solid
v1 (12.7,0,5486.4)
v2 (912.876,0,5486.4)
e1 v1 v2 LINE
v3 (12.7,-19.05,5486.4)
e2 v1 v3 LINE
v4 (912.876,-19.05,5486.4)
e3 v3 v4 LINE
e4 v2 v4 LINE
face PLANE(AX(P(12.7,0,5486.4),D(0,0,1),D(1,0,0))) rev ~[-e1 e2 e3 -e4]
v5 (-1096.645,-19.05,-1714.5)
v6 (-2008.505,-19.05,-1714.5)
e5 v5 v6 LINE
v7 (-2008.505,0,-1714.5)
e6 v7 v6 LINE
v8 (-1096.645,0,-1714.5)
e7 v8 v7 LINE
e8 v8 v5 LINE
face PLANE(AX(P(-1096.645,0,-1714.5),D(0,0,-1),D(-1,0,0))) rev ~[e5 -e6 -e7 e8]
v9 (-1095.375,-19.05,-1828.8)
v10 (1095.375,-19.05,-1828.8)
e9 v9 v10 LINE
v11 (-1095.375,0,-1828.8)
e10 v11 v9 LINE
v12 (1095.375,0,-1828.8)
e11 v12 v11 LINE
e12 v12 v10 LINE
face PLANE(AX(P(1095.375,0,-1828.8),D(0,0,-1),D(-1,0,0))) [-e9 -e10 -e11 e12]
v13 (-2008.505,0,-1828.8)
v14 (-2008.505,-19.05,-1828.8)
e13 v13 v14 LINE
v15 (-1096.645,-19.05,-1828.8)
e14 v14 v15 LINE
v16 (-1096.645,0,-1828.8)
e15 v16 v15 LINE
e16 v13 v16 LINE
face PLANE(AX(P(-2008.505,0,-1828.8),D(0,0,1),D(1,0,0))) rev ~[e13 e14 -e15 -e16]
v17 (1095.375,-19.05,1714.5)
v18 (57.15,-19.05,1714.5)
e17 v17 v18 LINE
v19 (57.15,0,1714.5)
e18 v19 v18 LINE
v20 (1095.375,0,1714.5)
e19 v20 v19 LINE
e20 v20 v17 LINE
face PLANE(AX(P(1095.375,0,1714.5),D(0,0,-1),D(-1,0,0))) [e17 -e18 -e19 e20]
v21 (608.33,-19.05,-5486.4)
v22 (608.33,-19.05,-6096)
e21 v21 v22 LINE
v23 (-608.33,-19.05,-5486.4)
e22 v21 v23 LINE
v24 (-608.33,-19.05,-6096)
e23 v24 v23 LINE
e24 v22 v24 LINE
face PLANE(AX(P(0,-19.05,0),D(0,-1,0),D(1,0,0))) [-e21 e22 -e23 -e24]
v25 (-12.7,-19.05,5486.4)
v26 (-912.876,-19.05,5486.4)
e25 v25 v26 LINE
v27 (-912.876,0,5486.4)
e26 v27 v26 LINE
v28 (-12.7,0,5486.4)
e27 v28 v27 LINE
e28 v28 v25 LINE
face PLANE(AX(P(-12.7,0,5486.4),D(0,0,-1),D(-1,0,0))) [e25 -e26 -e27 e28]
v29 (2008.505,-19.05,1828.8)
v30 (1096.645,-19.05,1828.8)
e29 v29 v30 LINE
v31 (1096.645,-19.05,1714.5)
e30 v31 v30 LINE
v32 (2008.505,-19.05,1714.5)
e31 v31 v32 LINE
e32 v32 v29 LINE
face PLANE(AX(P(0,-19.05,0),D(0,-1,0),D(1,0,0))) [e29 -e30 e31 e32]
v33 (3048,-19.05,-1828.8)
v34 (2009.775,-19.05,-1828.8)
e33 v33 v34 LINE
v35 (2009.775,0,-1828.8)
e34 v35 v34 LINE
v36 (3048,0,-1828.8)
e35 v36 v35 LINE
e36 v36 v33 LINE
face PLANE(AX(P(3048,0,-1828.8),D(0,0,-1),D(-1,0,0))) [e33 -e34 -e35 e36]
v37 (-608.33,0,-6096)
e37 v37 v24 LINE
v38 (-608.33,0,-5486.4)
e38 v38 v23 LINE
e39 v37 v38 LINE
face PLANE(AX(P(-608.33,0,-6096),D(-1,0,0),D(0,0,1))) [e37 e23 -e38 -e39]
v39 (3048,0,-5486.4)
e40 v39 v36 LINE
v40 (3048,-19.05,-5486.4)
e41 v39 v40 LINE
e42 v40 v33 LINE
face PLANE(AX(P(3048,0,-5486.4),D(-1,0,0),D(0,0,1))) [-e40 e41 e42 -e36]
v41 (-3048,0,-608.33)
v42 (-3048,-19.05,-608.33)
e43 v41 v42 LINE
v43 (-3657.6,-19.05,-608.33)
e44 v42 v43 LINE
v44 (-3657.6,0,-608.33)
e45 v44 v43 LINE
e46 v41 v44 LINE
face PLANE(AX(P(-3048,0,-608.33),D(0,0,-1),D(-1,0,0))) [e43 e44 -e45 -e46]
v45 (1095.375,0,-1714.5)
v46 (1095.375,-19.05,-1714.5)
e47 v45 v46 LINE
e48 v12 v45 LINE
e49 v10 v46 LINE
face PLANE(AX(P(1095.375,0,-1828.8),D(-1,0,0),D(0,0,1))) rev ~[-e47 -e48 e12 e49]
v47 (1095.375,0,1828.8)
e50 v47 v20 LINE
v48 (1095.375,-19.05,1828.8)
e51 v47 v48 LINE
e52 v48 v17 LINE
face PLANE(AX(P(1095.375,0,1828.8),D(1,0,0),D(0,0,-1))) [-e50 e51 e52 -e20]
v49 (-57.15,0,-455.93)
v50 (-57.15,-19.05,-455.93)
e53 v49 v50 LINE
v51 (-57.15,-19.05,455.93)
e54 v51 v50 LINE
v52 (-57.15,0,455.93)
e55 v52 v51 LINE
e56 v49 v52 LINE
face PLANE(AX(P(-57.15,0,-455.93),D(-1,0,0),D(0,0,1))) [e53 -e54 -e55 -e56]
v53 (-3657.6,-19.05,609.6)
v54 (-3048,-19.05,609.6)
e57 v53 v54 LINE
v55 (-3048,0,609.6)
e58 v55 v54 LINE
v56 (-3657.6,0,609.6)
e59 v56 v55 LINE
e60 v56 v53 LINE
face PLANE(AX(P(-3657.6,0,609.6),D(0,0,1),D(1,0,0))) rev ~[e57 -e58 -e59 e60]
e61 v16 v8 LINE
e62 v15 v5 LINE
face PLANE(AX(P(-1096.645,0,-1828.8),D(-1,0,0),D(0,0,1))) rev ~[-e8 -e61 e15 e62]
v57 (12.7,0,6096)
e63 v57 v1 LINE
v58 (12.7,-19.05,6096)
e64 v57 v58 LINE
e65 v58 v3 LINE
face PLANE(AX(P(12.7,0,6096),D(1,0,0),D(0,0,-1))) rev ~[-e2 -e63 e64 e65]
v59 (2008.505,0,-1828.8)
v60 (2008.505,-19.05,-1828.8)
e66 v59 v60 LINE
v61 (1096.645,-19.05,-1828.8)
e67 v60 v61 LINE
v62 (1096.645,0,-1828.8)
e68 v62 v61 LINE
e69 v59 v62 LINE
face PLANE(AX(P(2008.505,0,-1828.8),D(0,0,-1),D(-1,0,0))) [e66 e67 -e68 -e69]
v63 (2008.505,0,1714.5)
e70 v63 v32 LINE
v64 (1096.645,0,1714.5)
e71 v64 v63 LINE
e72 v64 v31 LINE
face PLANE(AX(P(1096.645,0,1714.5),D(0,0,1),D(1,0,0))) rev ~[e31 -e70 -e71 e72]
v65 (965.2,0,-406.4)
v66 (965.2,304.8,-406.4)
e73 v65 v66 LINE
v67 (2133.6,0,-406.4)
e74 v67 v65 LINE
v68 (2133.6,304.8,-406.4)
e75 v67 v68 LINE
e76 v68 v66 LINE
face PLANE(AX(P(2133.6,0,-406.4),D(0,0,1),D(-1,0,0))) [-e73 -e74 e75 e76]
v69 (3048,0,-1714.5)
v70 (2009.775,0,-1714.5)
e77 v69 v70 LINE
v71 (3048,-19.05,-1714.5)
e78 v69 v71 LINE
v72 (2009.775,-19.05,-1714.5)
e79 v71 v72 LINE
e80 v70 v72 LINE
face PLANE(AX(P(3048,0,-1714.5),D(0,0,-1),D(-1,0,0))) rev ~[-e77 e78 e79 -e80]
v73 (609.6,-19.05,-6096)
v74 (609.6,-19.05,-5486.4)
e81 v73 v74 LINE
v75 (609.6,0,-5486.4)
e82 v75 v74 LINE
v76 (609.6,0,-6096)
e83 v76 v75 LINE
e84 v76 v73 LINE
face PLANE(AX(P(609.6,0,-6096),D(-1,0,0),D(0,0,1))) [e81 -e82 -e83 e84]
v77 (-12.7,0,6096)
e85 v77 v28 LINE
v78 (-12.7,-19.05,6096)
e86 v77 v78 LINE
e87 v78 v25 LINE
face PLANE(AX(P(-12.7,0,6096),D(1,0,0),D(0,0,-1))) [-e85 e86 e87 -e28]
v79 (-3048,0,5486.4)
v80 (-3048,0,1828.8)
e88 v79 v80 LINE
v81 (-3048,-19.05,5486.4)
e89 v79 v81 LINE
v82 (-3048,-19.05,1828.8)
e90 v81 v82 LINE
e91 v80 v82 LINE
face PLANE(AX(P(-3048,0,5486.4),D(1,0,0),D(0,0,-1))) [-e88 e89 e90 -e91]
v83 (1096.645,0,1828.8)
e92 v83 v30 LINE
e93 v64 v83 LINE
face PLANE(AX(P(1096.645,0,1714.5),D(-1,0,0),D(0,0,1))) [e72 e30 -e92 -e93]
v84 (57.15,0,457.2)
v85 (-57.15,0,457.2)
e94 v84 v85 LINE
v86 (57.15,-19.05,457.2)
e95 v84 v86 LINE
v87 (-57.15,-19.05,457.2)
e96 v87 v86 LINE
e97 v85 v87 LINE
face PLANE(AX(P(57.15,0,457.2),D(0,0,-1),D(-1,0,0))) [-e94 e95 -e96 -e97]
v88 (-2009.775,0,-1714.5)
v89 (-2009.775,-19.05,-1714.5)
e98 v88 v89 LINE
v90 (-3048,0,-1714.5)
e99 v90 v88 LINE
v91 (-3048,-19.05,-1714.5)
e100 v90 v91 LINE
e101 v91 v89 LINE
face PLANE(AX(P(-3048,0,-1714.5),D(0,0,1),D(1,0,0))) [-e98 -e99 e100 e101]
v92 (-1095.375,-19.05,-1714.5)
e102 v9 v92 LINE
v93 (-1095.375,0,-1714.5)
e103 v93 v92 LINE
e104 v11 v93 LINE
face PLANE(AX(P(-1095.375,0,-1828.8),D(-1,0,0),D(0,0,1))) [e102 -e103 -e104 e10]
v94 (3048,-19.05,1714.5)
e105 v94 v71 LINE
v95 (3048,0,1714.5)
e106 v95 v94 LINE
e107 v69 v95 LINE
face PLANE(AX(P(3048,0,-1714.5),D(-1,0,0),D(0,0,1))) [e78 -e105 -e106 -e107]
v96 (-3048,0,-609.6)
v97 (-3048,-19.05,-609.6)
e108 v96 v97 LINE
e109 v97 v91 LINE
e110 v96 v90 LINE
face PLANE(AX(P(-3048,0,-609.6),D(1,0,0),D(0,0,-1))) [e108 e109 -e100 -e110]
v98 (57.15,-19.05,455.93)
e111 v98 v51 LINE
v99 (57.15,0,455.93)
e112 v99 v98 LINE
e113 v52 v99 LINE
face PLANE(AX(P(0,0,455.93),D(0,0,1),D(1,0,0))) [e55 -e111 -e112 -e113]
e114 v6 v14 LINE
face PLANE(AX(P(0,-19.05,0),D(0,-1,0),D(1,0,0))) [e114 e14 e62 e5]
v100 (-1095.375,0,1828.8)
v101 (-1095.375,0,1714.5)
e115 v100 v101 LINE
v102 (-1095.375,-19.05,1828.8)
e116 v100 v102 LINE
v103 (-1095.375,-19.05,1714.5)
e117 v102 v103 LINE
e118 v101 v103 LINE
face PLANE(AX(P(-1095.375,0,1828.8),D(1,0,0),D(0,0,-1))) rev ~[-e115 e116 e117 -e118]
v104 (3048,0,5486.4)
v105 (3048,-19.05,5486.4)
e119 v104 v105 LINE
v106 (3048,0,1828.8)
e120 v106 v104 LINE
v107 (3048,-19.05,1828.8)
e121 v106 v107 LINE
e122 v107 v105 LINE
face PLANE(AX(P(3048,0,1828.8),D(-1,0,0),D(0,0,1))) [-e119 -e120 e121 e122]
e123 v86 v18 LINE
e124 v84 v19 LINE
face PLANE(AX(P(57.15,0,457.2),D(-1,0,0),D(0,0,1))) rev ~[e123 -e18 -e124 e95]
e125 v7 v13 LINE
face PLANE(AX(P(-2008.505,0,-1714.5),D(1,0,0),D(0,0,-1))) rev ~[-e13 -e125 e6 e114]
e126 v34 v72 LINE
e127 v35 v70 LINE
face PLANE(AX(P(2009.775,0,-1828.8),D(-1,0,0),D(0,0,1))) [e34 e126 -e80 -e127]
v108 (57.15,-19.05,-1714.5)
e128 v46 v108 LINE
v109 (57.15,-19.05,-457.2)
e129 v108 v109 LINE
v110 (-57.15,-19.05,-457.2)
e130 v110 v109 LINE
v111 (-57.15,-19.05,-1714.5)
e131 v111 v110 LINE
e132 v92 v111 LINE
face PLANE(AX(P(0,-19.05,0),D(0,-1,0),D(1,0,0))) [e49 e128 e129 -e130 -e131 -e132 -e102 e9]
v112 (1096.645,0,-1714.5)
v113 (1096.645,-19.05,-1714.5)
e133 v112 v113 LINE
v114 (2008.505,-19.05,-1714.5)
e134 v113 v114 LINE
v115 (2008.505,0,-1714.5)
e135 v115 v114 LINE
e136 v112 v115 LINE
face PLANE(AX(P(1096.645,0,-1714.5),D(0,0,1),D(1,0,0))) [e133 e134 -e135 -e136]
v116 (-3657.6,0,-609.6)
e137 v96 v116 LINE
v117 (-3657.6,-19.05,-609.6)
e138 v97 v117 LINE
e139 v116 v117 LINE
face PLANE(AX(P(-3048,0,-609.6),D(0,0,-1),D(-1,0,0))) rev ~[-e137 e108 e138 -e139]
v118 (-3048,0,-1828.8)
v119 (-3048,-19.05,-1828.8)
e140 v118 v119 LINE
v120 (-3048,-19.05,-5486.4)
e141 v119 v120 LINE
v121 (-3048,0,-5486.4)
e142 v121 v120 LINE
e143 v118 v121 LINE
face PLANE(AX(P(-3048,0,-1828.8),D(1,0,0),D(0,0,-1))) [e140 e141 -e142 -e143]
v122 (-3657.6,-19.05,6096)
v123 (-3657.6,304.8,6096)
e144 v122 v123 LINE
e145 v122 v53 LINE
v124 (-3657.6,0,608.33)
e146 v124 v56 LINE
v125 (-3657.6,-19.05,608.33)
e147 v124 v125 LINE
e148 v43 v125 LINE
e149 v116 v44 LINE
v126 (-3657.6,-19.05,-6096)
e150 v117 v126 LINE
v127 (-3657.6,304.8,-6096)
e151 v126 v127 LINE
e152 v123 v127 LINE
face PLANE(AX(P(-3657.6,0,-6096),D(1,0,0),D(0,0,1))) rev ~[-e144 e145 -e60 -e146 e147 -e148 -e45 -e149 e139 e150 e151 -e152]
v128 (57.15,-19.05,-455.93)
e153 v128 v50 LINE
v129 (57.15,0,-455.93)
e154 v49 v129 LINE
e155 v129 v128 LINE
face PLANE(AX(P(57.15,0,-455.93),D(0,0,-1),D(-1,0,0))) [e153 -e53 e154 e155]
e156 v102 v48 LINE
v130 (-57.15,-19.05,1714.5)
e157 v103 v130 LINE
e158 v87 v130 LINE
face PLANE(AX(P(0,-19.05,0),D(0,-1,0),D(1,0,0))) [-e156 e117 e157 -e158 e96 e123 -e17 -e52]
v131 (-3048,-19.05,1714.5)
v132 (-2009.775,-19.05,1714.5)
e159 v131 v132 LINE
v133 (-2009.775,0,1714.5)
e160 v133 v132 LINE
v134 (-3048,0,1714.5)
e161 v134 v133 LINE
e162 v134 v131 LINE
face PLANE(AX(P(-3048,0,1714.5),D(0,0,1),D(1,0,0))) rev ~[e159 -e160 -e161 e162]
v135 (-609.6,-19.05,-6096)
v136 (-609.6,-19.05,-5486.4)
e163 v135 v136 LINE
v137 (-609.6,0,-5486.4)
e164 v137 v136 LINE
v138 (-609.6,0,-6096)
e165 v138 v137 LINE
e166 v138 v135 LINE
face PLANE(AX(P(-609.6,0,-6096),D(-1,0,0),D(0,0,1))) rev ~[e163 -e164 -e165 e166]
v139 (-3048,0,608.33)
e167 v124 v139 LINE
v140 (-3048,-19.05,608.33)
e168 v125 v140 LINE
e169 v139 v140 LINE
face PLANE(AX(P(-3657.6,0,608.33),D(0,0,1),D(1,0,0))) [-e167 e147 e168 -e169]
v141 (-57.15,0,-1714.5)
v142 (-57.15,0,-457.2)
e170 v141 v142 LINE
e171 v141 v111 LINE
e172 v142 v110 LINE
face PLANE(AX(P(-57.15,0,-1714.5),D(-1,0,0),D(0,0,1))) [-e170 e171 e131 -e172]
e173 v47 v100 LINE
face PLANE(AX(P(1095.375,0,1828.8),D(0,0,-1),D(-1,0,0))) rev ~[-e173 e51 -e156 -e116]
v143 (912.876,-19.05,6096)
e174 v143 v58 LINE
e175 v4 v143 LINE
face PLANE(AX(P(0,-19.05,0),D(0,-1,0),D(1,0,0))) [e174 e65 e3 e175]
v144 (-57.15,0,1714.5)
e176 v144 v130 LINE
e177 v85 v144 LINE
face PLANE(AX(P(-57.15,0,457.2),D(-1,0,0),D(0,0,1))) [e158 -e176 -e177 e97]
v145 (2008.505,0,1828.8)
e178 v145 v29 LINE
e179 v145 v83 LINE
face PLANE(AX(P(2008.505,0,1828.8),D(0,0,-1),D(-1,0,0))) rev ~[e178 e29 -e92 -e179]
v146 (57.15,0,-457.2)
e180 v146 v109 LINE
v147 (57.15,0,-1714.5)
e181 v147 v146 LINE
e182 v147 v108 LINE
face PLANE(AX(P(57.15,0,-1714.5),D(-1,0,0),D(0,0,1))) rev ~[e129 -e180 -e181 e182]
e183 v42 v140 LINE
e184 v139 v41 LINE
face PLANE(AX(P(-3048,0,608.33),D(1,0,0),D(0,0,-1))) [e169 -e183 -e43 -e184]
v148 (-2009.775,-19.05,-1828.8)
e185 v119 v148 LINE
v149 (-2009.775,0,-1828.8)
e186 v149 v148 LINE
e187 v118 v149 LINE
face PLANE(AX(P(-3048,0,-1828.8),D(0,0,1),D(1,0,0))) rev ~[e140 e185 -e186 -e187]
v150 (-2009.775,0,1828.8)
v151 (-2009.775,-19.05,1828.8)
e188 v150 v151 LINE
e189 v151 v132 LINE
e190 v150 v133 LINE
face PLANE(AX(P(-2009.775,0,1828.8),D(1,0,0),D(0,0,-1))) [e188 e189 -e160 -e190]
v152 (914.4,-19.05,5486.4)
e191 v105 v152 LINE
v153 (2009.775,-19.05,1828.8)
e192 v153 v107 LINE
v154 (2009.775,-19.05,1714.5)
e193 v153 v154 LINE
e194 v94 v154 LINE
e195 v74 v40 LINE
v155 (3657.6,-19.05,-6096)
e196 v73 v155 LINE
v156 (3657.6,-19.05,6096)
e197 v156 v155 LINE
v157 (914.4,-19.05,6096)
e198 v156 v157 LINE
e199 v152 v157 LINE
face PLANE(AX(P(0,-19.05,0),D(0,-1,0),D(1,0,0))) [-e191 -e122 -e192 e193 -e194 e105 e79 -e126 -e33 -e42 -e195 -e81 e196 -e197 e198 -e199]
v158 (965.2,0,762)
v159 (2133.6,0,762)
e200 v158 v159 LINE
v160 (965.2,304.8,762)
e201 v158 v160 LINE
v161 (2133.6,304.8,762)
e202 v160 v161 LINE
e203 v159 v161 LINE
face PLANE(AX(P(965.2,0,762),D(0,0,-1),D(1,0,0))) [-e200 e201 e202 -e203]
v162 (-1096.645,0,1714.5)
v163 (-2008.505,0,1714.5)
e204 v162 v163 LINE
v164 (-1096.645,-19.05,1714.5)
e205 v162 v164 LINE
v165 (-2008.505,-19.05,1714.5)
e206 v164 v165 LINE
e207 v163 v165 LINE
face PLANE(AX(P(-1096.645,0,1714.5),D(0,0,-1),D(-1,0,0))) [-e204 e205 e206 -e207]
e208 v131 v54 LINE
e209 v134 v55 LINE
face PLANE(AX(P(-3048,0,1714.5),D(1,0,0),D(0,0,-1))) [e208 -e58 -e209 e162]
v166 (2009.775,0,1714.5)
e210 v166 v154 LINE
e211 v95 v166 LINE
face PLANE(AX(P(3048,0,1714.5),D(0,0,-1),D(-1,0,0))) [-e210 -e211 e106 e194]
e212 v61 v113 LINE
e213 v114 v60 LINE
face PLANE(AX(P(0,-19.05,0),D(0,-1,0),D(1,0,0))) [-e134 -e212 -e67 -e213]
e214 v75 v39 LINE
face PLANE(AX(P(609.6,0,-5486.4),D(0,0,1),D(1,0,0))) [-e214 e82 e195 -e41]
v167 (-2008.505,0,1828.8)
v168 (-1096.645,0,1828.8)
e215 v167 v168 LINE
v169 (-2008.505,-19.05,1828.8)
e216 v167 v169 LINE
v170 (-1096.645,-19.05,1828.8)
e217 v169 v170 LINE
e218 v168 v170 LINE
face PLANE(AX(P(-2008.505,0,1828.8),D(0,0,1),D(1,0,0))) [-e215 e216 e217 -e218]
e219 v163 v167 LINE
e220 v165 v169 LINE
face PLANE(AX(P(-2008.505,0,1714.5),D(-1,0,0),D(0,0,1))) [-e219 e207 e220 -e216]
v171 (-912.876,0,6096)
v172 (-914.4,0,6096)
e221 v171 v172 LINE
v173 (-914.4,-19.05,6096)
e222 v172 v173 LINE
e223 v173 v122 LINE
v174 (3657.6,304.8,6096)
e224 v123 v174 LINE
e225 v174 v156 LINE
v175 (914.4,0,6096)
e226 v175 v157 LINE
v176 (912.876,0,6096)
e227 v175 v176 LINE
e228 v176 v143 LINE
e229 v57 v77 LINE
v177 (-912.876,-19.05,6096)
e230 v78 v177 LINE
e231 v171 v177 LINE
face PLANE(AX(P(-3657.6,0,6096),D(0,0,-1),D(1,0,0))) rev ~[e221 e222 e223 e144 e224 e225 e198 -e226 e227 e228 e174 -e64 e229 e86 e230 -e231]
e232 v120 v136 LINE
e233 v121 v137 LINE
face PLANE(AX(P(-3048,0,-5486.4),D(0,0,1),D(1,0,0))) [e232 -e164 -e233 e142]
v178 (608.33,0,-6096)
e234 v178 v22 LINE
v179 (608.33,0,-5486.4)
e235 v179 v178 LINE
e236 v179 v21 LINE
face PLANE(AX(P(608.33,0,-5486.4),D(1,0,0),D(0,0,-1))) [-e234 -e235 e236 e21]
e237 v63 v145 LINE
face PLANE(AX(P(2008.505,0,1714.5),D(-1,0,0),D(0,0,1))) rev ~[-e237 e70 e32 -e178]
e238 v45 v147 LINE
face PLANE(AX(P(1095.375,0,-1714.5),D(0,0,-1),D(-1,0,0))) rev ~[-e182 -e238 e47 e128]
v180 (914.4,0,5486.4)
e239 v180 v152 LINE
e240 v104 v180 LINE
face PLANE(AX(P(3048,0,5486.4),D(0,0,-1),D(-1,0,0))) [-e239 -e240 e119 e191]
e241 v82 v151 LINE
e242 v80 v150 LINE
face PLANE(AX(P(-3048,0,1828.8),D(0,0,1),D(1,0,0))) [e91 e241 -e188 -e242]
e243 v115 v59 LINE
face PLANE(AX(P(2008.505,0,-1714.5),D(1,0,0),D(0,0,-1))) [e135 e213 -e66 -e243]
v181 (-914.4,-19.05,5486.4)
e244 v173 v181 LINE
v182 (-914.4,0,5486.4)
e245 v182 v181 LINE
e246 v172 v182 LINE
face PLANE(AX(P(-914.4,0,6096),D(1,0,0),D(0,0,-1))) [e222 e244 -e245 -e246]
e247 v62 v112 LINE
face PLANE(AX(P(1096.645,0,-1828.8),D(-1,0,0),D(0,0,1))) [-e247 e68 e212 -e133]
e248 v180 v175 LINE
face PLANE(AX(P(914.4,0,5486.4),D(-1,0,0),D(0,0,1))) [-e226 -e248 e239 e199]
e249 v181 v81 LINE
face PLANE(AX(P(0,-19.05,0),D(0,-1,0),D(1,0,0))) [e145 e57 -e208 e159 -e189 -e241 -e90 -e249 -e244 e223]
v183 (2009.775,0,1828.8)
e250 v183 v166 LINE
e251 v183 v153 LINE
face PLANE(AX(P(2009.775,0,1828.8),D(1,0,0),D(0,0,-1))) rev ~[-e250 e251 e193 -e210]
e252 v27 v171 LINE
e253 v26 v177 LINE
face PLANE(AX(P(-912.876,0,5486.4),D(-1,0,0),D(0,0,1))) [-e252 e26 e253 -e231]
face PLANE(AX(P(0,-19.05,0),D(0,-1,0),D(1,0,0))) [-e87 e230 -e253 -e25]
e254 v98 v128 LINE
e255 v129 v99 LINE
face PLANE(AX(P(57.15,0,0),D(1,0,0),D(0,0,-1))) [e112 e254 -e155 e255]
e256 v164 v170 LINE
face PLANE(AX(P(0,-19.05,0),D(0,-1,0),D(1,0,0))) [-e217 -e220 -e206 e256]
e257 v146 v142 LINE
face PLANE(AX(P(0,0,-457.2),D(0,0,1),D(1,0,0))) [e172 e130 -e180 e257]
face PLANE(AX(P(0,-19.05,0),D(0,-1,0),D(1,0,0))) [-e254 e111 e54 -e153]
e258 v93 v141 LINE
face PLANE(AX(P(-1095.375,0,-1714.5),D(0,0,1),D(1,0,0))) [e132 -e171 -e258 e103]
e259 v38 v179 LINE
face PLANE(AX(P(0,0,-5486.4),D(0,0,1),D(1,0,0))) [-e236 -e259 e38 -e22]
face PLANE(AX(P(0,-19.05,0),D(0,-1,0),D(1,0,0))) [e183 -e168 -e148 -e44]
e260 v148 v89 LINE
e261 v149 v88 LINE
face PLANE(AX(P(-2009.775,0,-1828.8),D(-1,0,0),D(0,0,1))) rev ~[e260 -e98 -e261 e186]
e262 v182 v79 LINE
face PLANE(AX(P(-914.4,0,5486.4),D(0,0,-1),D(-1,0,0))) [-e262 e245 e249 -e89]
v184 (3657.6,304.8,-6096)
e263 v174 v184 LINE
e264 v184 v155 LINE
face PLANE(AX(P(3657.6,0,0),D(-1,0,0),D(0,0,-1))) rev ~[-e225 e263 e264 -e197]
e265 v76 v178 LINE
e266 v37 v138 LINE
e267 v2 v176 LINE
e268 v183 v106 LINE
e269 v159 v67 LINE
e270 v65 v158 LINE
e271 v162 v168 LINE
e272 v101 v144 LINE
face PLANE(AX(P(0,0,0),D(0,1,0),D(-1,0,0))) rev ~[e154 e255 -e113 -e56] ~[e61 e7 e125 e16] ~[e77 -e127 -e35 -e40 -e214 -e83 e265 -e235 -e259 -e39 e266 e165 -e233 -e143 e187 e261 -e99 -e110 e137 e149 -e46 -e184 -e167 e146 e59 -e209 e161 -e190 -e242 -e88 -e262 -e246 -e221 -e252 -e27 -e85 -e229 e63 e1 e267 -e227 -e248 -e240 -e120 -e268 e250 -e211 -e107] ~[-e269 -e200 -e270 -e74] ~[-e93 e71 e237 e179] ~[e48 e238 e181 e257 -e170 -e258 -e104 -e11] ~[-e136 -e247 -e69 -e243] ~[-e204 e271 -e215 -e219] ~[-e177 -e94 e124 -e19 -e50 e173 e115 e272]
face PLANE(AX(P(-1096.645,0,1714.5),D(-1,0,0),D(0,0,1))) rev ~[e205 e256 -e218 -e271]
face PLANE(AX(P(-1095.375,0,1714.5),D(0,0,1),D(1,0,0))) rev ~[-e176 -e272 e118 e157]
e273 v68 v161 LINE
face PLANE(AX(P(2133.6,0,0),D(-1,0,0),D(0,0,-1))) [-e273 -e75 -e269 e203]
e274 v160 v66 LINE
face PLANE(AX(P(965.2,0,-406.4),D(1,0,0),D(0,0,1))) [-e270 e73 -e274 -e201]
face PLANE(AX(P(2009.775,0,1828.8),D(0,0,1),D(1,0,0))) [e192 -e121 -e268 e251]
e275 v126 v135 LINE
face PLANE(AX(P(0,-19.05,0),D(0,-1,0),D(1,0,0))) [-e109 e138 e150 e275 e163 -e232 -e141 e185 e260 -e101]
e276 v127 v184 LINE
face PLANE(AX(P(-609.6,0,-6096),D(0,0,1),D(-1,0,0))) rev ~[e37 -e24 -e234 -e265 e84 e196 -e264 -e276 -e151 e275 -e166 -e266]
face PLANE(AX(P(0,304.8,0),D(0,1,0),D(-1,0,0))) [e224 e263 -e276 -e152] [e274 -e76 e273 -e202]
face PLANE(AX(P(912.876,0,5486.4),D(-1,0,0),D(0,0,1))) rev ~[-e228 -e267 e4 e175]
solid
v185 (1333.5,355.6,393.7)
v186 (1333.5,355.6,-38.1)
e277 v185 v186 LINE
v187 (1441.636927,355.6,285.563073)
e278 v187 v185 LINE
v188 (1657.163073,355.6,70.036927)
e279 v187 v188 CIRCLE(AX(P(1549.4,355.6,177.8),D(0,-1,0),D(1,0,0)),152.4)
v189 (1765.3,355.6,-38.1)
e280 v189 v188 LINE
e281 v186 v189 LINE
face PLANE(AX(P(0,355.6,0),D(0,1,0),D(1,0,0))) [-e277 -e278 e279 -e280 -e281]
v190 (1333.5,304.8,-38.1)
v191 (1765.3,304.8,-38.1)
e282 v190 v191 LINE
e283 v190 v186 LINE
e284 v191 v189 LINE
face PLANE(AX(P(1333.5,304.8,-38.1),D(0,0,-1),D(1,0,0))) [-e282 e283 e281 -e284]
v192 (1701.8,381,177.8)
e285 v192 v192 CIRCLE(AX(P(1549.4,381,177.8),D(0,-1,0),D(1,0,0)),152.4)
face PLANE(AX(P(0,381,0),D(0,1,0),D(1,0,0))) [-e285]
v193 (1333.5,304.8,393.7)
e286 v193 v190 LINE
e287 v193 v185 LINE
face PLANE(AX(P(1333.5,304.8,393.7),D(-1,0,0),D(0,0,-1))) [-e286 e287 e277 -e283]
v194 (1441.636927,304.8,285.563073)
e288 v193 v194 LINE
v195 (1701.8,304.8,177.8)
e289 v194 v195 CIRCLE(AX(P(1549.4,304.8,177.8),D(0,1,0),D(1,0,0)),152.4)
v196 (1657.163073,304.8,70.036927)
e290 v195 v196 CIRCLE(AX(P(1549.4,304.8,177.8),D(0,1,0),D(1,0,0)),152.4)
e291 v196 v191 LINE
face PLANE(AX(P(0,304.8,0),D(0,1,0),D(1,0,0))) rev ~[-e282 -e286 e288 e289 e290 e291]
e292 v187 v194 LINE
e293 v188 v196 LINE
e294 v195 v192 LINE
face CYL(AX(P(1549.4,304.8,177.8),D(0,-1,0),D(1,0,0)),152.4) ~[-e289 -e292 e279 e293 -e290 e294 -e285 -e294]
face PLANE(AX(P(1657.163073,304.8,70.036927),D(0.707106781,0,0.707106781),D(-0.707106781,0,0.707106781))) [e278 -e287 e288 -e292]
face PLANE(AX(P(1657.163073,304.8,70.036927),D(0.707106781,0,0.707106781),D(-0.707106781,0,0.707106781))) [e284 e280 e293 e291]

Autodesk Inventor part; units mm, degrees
ref_plane "YZ Plane" through (0, 0, 0) normal (1, 0, 0) x (0, 1, 0)
ref_plane "XZ Plane" through (0, 0, 0) normal (0, 1, 0) x (-1, 0, 0)
ref_plane "XY Plane" through (0, 0, 0) normal (0, 0, 1) x (1, 0, 0)
sketch "Sketch1" plane through (0, 0, 0) normal (0, 1, 0) x (-1, 0, 0)
  line L0 (3657.6, -6096) -> (3657.6, 6096)
  line L1 (-3657.6, 6096) -> (-3657.6, -6096)
  line L2 (-3657.6, -6096) -> (-609.6, -6096)
  line L3 (609.6, -6096) -> (3657.6, -6096)
  line L4 (3657.6, 6096) -> (914.4, 6096)
  line L5 (-914.4, 6096) -> (-3657.6, 6096)
  line L6 (0, -8534.4) -> (0, 8534.4) projected
  line L7 (-5120.64, 0) -> (5120.64, 0) projected
  line L8 (-3657.6, -6096) -> (3657.6, -6096)
  line L9 (3657.6, -6096) -> (3657.6, 6096)
  line L10 (3657.6, 6096) -> (-3657.6, 6096)
  line L11 (-3657.6, 6096) -> (-3657.6, -6096)
  line L12 (-2133.6, -406.4) -> (-965.2, -406.4)
  line L13 (-965.2, -406.4) -> (-965.2, 762)
  line L14 (-965.2, 762) -> (-2133.6, 762)
  line L15 (-2133.6, 762) -> (-2133.6, -406.4)
  dimension "d0" = 7315.2
  dimension "d12" = 12192
  dimension "d16" = 1168.4
  dimension "d17" = 1168.4
  dimension "d18" = 1524
  dimension "d19" = 5689.6
extrude "Extrusion1" add sketch "Sketch1" along normal blind 304.8 contours L3 L8 L6 L7 L0 | L7 L6 L10 L4 L0 | L7 L13 L14 L15 L1 L5 L10 L6 | L6 L8 L2 L1 L7 L15 L12 L13
sketch "Sketch2" plane through (0, 0, 0) normal (0, -1, 0) x (1, 0, 0)
  line L0 (3657.6, -6096) -> (3657.6, 6096)
  line L1 (-3657.6, 6096) -> (-3657.6, -6096)
  line L2 (-3048, 1714.5) -> (-3048, -1714.5)
  line L3 (3048, -5486.4) -> (3048, -1828.8)
  line L4 (3048, -1714.5) -> (3048, 1714.5)
  line L5 (3048, 1828.8) -> (3048, 5486.4)
  line L6 (-3048, -1828.8) -> (-3048, -5486.4)
  line L7 (-3048, 5486.4) -> (-3048, 1828.8)
  line L8 (-3048, 1714.5) -> (-3048, -1714.5)
  line L9 (-2009.775, -1828.8) -> (-2009.775, -1714.5)
  line L10 (-1095.375, -1828.8) -> (-1095.375, -1714.5)
  line L11 (-3048, -1714.5) -> (-2009.775, -1714.5)
  line L12 (-1095.375, -1714.5) -> (-57.15, -1714.5)
  line L13 (-3048, -1828.8) -> (-2009.775, -1828.8)
  line L14 (3048, -1714.5) -> (2009.775, -1714.5)
  line L15 (3048, -1828.8) -> (2009.775, -1828.8)
  line L16 (2009.775, -1828.8) -> (2009.775, -1714.5)
  line L17 (1095.375, -1828.8) -> (1095.375, -1714.5)
  line L18 (1095.375, -1714.5) -> (57.15, -1714.5)
  line L19 (1095.375, -1828.8) -> (-1095.375, -1828.8)
  line L20 (-2009.775, -1828.8) -> (-3048, -1828.8)
  line L21 (-1095.375, -1828.8) -> (1095.375, -1828.8)
  line L22 (2009.775, -1828.8) -> (3048, -1828.8)
  line L23 (57.15, -1714.5) -> (1095.375, -1714.5)
  line L24 (2009.775, -1714.5) -> (3048, -1714.5)
  line L25 (2009.775, 1828.8) -> (3048, 1828.8)
  line L26 (3048, 1828.8) -> (2009.775, 1828.8)
  line L27 (3048, 1714.5) -> (2009.775, 1714.5)
  line L28 (2009.775, 1714.5) -> (3048, 1714.5)
  line L29 (1095.375, 1714.5) -> (57.15, 1714.5)
  line L30 (-1095.375, 1828.8) -> (-1095.375, 1714.5)
  line L31 (-3048, 1714.5) -> (-2009.775, 1714.5)
  line L32 (-1095.375, 1714.5) -> (-57.15, 1714.5)
  line L33 (-3048, 1828.8) -> (-2009.775, 1828.8)
  line L34 (2009.775, 1828.8) -> (2009.775, 1714.5)
  line L35 (1095.375, 1828.8) -> (1095.375, 1714.5)
  line L36 (1095.375, 1828.8) -> (-1095.375, 1828.8)
  line L37 (-2009.775, 1828.8) -> (-3048, 1828.8)
  line L38 (-1095.375, 1828.8) -> (1095.375, 1828.8)
  line L39 (57.15, 1714.5) -> (1095.375, 1714.5)
  line L40 (-2009.775, 1828.8) -> (-2009.775, 1714.5)
  line L41 (-57.15, -457.2) -> (57.15, -457.2)
  line L42 (57.15, 457.2) -> (-57.15, 457.2)
  line L43 (-609.6, -6096) -> (-609.6, -5486.4)
  line L44 (609.6, -6096) -> (609.6, -5486.4)
  line L45 (-3048, -5486.4) -> (-609.6, -5486.4)
  line L46 (609.6, -5486.4) -> (3048, -5486.4)
  line L47 (-3657.6, -6096) -> (-609.6, -6096)
  line L48 (609.6, -6096) -> (3657.6, -6096)
  line L49 (914.4, 5486.4) -> (914.4, 6096)
  line L50 (-914.4, 6096) -> (-914.4, 5486.4)
  line L51 (3048, 5486.4) -> (914.4, 5486.4)
  line L52 (-914.4, 5486.4) -> (-3048, 5486.4)
  line L53 (3657.6, 6096) -> (914.4, 6096)
  line L54 (-914.4, 6096) -> (-3657.6, 6096)
  line L55 (-57.15, -1714.5) -> (-57.15, -457.2)
  line L56 (-57.15, 457.2) -> (-57.15, 1714.5)
  line L57 (-57.15, 1714.5) -> (-57.15, 457.2)
  line L58 (-57.15, -457.2) -> (-57.15, -1714.5)
  line L59 (57.15, -1714.5) -> (57.15, -457.2)
  line L60 (57.15, 457.2) -> (57.15, 1714.5)
  line L61 (57.15, 1714.5) -> (57.15, 457.2)
  line L62 (57.15, -457.2) -> (57.15, -1714.5)
  line L63 (-3048, 5486.4) -> (-3048, 1828.8)
  line L64 (-3048, 1828.8) -> (-2009.775, 1828.8)
  line L65 (-2009.775, 1828.8) -> (-2009.775, 1714.5)
  line L66 (-2009.775, 1714.5) -> (-3048, 1714.5)
  line L67 (-3048, 1714.5) -> (-3048, -1714.5)
  line L68 (-3048, -1714.5) -> (-2009.775, -1714.5)
  line L69 (-2009.775, -1714.5) -> (-2009.775, -1828.8)
  line L70 (-2009.775, -1828.8) -> (-3048, -1828.8)
  line L71 (-3048, -1828.8) -> (-3048, -5486.4)
  line L72 (-3048, -5486.4) -> (-609.6, -5486.4)
  line L73 (609.6, -5486.4) -> (3048, -5486.4)
  line L74 (3048, -5486.4) -> (3048, -1828.8)
  line L75 (3048, -1828.8) -> (2009.775, -1828.8)
  line L76 (2009.775, -1828.8) -> (2009.775, -1714.5)
  line L77 (2009.775, -1714.5) -> (3048, -1714.5)
  line L78 (3048, 1714.5) -> (3048, -1714.5)
  line L79 (3048, 1714.5) -> (2009.775, 1714.5)
  line L80 (2009.775, 1714.5) -> (2009.775, 1828.8)
  line L81 (2009.775, 1828.8) -> (3048, 1828.8)
  line L82 (3048, 1828.8) -> (3048, 5486.4)
  line L83 (3657.6, 6096) -> (-3657.6, 6096) projected
  line L84 (0, 8534.4) -> (0, -8534.4) projected
  line L85 (-12.7, 6096) -> (12.7, 6096)
  line L86 (3657.6, -6096) -> (3657.6, 6096) projected
  line L87 (-2009.775, 1828.8) -> (-2008.505, 1828.8)
  line L88 (-1095.375, 1828.8) -> (-1096.645, 1828.8)
  line L89 (-1095.375, 1714.5) -> (-1096.645, 1714.5)
  line L90 (-1096.645, 1714.5) -> (-1096.645, 1828.8)
  line L91 (-2009.775, 1714.5) -> (-2008.505, 1714.5)
  line L92 (-2008.505, 1714.5) -> (-2008.505, 1828.8)
  line L93 (-2008.505, 1828.8) -> (-1096.645, 1828.8)
  line L94 (-1096.645, 1828.8) -> (-1096.645, 1714.5)
  line L95 (-1096.645, 1714.5) -> (-2008.505, 1714.5)
  line L96 (-2008.505, 1714.5) -> (-2008.505, 1828.8)
  line L97 (-5120.64, 0) -> (5120.64, 0) projected
  line L98 (-2009.775, -1828.8) -> (-2008.505, -1828.8)
  line L99 (-1095.375, -1828.8) -> (-1096.645, -1828.8)
  line L100 (-1095.375, -1714.5) -> (-1096.645, -1714.5)
  line L101 (-2009.775, -1714.5) -> (-2008.505, -1714.5)
  line L102 (-2008.505, -1714.5) -> (-2008.505, -1828.8)
  line L103 (-2008.505, -1828.8) -> (-1096.645, -1828.8)
  line L104 (-1096.645, -1828.8) -> (-1096.645, -1714.5)
  line L105 (-1096.645, -1714.5) -> (-2008.505, -1714.5)
  line L106 (2009.775, 1828.8) -> (2008.505, 1828.8)
  line L107 (1095.375, 1828.8) -> (1096.645, 1828.8)
  line L108 (1095.375, 1714.5) -> (1096.645, 1714.5)
  line L109 (1096.645, 1714.5) -> (1096.645, 1828.8)
  line L110 (2009.775, 1714.5) -> (2008.505, 1714.5)
  line L111 (2008.505, 1714.5) -> (2008.505, 1828.8)
  line L112 (2008.505, 1828.8) -> (1096.645, 1828.8)
  line L113 (1096.645, 1714.5) -> (2008.505, 1714.5)
  line L114 (2009.775, -1714.5) -> (2008.505, -1714.5)
  line L115 (2008.505, -1714.5) -> (2008.505, -1828.8)
  line L116 (2009.775, -1828.8) -> (2008.505, -1828.8)
  line L117 (2008.505, -1828.8) -> (1096.645, -1828.8)
  line L118 (1096.645, -1714.5) -> (2008.505, -1714.5)
  line L119 (1095.375, -1714.5) -> (1096.645, -1714.5)
  line L120 (1096.645, -1828.8) -> (1096.645, -1714.5)
  line L121 (1095.375, -1828.8) -> (1096.645, -1828.8)
  line L122 (-3657.6, 6096) -> (-3657.6, -6096) projected
  line L123 (-3657.6, -6096) -> (3657.6, -6096) projected
  line L124 (-2008.505, -1828.8) -> (-1096.645, -1828.8)
  line L125 (-1096.645, -1828.8) -> (-1096.645, -1714.5)
  line L126 (-1096.645, -1714.5) -> (-2008.505, -1714.5)
  line L127 (-2008.505, -1714.5) -> (-2008.505, -1828.8)
  line L128 (1096.645, -1714.5) -> (2008.505, -1714.5)
  line L129 (2008.505, -1714.5) -> (2008.505, -1828.8)
  line L130 (2008.505, -1828.8) -> (1096.645, -1828.8)
  line L131 (1096.645, -1828.8) -> (1096.645, -1714.5)
  line L132 (1096.645, 1828.8) -> (2008.505, 1828.8)
  line L133 (2008.505, 1828.8) -> (2008.505, 1714.5)
  line L134 (2008.505, 1714.5) -> (1096.645, 1714.5)
  line L135 (1096.645, 1714.5) -> (1096.645, 1828.8)
  line L136 (-912.876, 6096) -> (-12.7, 6096)
  line L137 (-12.7, 6096) -> (-12.7, 5486.4)
  line L138 (-12.7, 5486.4) -> (-912.876, 5486.4)
  line L139 (-912.876, 5486.4) -> (-912.876, 6096)
  line L140 (12.7, 6096) -> (12.7, 5486.4)
  line L141 (12.7, 5486.4) -> (912.876, 5486.4)
  line L142 (912.876, 5486.4) -> (912.876, 6096)
  line L143 (-912.876, 5486.4) -> (-12.7, 5486.4)
  line L144 (-12.7, 5486.4) -> (-12.7, 6096)
  line L145 (-12.7, 6096) -> (-912.876, 6096)
  line L146 (-912.876, 6096) -> (-912.876, 5486.4)
  line L147 (12.7, 6096) -> (912.876, 6096)
  line L148 (912.876, 6096) -> (912.876, 5486.4)
  line L149 (912.876, 5486.4) -> (12.7, 5486.4)
  line L150 (12.7, 5486.4) -> (12.7, 6096)
  line L151 (-608.33, -5486.4) -> (608.33, -5486.4)
  line L152 (608.33, -5486.4) -> (608.33, -6096)
  line L153 (608.33, -6096) -> (-608.33, -6096)
  line L154 (-608.33, -6096) -> (-608.33, -5486.4)
  line L155 (-3657.6, 609.6) -> (-3048, 609.6)
  line L156 (-3048, 609.6) -> (-3048, -609.6)
  line L157 (-3048, -609.6) -> (-3657.6, -609.6)
  line L158 (-3657.6, -609.6) -> (-3657.6, 609.6)
  line L159 (-57.15, 455.93) -> (57.15, 455.93)
  line L160 (57.15, 455.93) -> (57.15, -455.93)
  line L161 (57.15, -455.93) -> (-57.15, -455.93)
  line L162 (-57.15, -455.93) -> (-57.15, 455.93)
  line L163 (-3657.6, 608.33) -> (-3048, 608.33)
  line L164 (-3048, 608.33) -> (-3048, -608.33)
  line L165 (-3048, -608.33) -> (-3657.6, -608.33)
  line L166 (-3657.6, -608.33) -> (-3657.6, 608.33)
  point P0 (0, 0)
  point P1 (0, 0)
  point P2 (0, 5486.4)
  dimension "d22" = 7315.2
  dimension "d23" = 609.6
  dimension "d24" = 1038.225
  dimension "d25" = 914.4
  dimension "d26" = 114.3
  dimension "d27" = 1038.225
  dimension "d28" = 1038.225
  dimension "d29" = 914.4
  dimension "d30" = 1219.2
  dimension "d31" = 609.6
  dimension "d32" = 4267.2
  dimension "d33" = 1828.8
  dimension "d34" = 12192
  dimension "d35" = 609.6
  dimension "d36" = 114.3
  dimension "d40" = 1.27
  dimension "d41" = 1.27
  dimension "d42" = 1.524
  dimension "d43" = 12.7
  dimension "d44" = 1.27
  dimension "d45" = 1219.2
  dimension "d48" = 1.27
  dimension "d51" = 1.27
extrude "Extrusion3" add sketch "Sketch2" along normal blind 19.05 contours L48 L44 L46 L3 L15 L16 L14 L4 L97 L0 | L97 L4 L27 L34 L25 L5 L51 L49 L53 L0 | L123 L84 L151 L152 | L123 L154 L151 L84 | L142 L141 L140 L83 | L115 L117 L120 L118 | L113 L109 L112 L111 | L84 L41 L59 L18 L17 L19 | L19 L10 L12 L55 L41 L84 | L47 L1 L157 L2 L11 L9 L13 L6 L45 L43 | L84 L36 L35 L29 L60 L42 | L42 L56 L32 L30 L36 L84 | L97 L1 L163 L2 | L2 L165 L1 L97 | L137 L138 L139 L83 | L103 L102 L105 L104 | L155 L1 L54 L50 L52 L7 L33 L40 L31 L2 | L90 L95 L92 L93
extrude "Extrusion4" add sketch "Sketch2" along normal blind 19.05 contours L160 L161 L84 L97 | L97 L84 L159 L160 | L97 L162 L159 L84 | L84 L161 L162 L97
sketch "Sketch3" plane through (0, 304.8, 0) normal (0, 1, 0) x (1, 0, 0)
  line L0 (2133.6, 406.4) -> (2133.6, -762) projected
  line L1 (965.2, -762) -> (965.2, 406.4) projected
  line L2 (965.2, 406.4) -> (2133.6, 406.4) projected
  circle A0 centre (1549.4, -177.8) radius 152.4
  line L3 (1333.5, 38.1) -> (1765.3, 38.1)
  line L4 (1333.5, -393.7) -> (1333.5, 38.1)
  line L5 (1765.3, 38.1) -> (1333.5, -393.7)
  point P0 (0, 0)
  dimension "d52" = 304.8
  dimension "d53" = 584.2
  dimension "d54" = 584.2
  dimension "d57" = 368.3
  dimension "d58" = 368.3
  dimension "d59" = 431.8
extrude "Extrusion5" add sketch "Sketch3" along normal blind 76.2 contours A0 L5 | L5 A0
extrude "Extrusion6" add sketch "Sketch3" along normal blind 50.8 contours L5 A0 | A0 L5 L4 L3 picked at (1566.1782, -129.8507)
properties part number "East_Structure_Roof_Devices"
